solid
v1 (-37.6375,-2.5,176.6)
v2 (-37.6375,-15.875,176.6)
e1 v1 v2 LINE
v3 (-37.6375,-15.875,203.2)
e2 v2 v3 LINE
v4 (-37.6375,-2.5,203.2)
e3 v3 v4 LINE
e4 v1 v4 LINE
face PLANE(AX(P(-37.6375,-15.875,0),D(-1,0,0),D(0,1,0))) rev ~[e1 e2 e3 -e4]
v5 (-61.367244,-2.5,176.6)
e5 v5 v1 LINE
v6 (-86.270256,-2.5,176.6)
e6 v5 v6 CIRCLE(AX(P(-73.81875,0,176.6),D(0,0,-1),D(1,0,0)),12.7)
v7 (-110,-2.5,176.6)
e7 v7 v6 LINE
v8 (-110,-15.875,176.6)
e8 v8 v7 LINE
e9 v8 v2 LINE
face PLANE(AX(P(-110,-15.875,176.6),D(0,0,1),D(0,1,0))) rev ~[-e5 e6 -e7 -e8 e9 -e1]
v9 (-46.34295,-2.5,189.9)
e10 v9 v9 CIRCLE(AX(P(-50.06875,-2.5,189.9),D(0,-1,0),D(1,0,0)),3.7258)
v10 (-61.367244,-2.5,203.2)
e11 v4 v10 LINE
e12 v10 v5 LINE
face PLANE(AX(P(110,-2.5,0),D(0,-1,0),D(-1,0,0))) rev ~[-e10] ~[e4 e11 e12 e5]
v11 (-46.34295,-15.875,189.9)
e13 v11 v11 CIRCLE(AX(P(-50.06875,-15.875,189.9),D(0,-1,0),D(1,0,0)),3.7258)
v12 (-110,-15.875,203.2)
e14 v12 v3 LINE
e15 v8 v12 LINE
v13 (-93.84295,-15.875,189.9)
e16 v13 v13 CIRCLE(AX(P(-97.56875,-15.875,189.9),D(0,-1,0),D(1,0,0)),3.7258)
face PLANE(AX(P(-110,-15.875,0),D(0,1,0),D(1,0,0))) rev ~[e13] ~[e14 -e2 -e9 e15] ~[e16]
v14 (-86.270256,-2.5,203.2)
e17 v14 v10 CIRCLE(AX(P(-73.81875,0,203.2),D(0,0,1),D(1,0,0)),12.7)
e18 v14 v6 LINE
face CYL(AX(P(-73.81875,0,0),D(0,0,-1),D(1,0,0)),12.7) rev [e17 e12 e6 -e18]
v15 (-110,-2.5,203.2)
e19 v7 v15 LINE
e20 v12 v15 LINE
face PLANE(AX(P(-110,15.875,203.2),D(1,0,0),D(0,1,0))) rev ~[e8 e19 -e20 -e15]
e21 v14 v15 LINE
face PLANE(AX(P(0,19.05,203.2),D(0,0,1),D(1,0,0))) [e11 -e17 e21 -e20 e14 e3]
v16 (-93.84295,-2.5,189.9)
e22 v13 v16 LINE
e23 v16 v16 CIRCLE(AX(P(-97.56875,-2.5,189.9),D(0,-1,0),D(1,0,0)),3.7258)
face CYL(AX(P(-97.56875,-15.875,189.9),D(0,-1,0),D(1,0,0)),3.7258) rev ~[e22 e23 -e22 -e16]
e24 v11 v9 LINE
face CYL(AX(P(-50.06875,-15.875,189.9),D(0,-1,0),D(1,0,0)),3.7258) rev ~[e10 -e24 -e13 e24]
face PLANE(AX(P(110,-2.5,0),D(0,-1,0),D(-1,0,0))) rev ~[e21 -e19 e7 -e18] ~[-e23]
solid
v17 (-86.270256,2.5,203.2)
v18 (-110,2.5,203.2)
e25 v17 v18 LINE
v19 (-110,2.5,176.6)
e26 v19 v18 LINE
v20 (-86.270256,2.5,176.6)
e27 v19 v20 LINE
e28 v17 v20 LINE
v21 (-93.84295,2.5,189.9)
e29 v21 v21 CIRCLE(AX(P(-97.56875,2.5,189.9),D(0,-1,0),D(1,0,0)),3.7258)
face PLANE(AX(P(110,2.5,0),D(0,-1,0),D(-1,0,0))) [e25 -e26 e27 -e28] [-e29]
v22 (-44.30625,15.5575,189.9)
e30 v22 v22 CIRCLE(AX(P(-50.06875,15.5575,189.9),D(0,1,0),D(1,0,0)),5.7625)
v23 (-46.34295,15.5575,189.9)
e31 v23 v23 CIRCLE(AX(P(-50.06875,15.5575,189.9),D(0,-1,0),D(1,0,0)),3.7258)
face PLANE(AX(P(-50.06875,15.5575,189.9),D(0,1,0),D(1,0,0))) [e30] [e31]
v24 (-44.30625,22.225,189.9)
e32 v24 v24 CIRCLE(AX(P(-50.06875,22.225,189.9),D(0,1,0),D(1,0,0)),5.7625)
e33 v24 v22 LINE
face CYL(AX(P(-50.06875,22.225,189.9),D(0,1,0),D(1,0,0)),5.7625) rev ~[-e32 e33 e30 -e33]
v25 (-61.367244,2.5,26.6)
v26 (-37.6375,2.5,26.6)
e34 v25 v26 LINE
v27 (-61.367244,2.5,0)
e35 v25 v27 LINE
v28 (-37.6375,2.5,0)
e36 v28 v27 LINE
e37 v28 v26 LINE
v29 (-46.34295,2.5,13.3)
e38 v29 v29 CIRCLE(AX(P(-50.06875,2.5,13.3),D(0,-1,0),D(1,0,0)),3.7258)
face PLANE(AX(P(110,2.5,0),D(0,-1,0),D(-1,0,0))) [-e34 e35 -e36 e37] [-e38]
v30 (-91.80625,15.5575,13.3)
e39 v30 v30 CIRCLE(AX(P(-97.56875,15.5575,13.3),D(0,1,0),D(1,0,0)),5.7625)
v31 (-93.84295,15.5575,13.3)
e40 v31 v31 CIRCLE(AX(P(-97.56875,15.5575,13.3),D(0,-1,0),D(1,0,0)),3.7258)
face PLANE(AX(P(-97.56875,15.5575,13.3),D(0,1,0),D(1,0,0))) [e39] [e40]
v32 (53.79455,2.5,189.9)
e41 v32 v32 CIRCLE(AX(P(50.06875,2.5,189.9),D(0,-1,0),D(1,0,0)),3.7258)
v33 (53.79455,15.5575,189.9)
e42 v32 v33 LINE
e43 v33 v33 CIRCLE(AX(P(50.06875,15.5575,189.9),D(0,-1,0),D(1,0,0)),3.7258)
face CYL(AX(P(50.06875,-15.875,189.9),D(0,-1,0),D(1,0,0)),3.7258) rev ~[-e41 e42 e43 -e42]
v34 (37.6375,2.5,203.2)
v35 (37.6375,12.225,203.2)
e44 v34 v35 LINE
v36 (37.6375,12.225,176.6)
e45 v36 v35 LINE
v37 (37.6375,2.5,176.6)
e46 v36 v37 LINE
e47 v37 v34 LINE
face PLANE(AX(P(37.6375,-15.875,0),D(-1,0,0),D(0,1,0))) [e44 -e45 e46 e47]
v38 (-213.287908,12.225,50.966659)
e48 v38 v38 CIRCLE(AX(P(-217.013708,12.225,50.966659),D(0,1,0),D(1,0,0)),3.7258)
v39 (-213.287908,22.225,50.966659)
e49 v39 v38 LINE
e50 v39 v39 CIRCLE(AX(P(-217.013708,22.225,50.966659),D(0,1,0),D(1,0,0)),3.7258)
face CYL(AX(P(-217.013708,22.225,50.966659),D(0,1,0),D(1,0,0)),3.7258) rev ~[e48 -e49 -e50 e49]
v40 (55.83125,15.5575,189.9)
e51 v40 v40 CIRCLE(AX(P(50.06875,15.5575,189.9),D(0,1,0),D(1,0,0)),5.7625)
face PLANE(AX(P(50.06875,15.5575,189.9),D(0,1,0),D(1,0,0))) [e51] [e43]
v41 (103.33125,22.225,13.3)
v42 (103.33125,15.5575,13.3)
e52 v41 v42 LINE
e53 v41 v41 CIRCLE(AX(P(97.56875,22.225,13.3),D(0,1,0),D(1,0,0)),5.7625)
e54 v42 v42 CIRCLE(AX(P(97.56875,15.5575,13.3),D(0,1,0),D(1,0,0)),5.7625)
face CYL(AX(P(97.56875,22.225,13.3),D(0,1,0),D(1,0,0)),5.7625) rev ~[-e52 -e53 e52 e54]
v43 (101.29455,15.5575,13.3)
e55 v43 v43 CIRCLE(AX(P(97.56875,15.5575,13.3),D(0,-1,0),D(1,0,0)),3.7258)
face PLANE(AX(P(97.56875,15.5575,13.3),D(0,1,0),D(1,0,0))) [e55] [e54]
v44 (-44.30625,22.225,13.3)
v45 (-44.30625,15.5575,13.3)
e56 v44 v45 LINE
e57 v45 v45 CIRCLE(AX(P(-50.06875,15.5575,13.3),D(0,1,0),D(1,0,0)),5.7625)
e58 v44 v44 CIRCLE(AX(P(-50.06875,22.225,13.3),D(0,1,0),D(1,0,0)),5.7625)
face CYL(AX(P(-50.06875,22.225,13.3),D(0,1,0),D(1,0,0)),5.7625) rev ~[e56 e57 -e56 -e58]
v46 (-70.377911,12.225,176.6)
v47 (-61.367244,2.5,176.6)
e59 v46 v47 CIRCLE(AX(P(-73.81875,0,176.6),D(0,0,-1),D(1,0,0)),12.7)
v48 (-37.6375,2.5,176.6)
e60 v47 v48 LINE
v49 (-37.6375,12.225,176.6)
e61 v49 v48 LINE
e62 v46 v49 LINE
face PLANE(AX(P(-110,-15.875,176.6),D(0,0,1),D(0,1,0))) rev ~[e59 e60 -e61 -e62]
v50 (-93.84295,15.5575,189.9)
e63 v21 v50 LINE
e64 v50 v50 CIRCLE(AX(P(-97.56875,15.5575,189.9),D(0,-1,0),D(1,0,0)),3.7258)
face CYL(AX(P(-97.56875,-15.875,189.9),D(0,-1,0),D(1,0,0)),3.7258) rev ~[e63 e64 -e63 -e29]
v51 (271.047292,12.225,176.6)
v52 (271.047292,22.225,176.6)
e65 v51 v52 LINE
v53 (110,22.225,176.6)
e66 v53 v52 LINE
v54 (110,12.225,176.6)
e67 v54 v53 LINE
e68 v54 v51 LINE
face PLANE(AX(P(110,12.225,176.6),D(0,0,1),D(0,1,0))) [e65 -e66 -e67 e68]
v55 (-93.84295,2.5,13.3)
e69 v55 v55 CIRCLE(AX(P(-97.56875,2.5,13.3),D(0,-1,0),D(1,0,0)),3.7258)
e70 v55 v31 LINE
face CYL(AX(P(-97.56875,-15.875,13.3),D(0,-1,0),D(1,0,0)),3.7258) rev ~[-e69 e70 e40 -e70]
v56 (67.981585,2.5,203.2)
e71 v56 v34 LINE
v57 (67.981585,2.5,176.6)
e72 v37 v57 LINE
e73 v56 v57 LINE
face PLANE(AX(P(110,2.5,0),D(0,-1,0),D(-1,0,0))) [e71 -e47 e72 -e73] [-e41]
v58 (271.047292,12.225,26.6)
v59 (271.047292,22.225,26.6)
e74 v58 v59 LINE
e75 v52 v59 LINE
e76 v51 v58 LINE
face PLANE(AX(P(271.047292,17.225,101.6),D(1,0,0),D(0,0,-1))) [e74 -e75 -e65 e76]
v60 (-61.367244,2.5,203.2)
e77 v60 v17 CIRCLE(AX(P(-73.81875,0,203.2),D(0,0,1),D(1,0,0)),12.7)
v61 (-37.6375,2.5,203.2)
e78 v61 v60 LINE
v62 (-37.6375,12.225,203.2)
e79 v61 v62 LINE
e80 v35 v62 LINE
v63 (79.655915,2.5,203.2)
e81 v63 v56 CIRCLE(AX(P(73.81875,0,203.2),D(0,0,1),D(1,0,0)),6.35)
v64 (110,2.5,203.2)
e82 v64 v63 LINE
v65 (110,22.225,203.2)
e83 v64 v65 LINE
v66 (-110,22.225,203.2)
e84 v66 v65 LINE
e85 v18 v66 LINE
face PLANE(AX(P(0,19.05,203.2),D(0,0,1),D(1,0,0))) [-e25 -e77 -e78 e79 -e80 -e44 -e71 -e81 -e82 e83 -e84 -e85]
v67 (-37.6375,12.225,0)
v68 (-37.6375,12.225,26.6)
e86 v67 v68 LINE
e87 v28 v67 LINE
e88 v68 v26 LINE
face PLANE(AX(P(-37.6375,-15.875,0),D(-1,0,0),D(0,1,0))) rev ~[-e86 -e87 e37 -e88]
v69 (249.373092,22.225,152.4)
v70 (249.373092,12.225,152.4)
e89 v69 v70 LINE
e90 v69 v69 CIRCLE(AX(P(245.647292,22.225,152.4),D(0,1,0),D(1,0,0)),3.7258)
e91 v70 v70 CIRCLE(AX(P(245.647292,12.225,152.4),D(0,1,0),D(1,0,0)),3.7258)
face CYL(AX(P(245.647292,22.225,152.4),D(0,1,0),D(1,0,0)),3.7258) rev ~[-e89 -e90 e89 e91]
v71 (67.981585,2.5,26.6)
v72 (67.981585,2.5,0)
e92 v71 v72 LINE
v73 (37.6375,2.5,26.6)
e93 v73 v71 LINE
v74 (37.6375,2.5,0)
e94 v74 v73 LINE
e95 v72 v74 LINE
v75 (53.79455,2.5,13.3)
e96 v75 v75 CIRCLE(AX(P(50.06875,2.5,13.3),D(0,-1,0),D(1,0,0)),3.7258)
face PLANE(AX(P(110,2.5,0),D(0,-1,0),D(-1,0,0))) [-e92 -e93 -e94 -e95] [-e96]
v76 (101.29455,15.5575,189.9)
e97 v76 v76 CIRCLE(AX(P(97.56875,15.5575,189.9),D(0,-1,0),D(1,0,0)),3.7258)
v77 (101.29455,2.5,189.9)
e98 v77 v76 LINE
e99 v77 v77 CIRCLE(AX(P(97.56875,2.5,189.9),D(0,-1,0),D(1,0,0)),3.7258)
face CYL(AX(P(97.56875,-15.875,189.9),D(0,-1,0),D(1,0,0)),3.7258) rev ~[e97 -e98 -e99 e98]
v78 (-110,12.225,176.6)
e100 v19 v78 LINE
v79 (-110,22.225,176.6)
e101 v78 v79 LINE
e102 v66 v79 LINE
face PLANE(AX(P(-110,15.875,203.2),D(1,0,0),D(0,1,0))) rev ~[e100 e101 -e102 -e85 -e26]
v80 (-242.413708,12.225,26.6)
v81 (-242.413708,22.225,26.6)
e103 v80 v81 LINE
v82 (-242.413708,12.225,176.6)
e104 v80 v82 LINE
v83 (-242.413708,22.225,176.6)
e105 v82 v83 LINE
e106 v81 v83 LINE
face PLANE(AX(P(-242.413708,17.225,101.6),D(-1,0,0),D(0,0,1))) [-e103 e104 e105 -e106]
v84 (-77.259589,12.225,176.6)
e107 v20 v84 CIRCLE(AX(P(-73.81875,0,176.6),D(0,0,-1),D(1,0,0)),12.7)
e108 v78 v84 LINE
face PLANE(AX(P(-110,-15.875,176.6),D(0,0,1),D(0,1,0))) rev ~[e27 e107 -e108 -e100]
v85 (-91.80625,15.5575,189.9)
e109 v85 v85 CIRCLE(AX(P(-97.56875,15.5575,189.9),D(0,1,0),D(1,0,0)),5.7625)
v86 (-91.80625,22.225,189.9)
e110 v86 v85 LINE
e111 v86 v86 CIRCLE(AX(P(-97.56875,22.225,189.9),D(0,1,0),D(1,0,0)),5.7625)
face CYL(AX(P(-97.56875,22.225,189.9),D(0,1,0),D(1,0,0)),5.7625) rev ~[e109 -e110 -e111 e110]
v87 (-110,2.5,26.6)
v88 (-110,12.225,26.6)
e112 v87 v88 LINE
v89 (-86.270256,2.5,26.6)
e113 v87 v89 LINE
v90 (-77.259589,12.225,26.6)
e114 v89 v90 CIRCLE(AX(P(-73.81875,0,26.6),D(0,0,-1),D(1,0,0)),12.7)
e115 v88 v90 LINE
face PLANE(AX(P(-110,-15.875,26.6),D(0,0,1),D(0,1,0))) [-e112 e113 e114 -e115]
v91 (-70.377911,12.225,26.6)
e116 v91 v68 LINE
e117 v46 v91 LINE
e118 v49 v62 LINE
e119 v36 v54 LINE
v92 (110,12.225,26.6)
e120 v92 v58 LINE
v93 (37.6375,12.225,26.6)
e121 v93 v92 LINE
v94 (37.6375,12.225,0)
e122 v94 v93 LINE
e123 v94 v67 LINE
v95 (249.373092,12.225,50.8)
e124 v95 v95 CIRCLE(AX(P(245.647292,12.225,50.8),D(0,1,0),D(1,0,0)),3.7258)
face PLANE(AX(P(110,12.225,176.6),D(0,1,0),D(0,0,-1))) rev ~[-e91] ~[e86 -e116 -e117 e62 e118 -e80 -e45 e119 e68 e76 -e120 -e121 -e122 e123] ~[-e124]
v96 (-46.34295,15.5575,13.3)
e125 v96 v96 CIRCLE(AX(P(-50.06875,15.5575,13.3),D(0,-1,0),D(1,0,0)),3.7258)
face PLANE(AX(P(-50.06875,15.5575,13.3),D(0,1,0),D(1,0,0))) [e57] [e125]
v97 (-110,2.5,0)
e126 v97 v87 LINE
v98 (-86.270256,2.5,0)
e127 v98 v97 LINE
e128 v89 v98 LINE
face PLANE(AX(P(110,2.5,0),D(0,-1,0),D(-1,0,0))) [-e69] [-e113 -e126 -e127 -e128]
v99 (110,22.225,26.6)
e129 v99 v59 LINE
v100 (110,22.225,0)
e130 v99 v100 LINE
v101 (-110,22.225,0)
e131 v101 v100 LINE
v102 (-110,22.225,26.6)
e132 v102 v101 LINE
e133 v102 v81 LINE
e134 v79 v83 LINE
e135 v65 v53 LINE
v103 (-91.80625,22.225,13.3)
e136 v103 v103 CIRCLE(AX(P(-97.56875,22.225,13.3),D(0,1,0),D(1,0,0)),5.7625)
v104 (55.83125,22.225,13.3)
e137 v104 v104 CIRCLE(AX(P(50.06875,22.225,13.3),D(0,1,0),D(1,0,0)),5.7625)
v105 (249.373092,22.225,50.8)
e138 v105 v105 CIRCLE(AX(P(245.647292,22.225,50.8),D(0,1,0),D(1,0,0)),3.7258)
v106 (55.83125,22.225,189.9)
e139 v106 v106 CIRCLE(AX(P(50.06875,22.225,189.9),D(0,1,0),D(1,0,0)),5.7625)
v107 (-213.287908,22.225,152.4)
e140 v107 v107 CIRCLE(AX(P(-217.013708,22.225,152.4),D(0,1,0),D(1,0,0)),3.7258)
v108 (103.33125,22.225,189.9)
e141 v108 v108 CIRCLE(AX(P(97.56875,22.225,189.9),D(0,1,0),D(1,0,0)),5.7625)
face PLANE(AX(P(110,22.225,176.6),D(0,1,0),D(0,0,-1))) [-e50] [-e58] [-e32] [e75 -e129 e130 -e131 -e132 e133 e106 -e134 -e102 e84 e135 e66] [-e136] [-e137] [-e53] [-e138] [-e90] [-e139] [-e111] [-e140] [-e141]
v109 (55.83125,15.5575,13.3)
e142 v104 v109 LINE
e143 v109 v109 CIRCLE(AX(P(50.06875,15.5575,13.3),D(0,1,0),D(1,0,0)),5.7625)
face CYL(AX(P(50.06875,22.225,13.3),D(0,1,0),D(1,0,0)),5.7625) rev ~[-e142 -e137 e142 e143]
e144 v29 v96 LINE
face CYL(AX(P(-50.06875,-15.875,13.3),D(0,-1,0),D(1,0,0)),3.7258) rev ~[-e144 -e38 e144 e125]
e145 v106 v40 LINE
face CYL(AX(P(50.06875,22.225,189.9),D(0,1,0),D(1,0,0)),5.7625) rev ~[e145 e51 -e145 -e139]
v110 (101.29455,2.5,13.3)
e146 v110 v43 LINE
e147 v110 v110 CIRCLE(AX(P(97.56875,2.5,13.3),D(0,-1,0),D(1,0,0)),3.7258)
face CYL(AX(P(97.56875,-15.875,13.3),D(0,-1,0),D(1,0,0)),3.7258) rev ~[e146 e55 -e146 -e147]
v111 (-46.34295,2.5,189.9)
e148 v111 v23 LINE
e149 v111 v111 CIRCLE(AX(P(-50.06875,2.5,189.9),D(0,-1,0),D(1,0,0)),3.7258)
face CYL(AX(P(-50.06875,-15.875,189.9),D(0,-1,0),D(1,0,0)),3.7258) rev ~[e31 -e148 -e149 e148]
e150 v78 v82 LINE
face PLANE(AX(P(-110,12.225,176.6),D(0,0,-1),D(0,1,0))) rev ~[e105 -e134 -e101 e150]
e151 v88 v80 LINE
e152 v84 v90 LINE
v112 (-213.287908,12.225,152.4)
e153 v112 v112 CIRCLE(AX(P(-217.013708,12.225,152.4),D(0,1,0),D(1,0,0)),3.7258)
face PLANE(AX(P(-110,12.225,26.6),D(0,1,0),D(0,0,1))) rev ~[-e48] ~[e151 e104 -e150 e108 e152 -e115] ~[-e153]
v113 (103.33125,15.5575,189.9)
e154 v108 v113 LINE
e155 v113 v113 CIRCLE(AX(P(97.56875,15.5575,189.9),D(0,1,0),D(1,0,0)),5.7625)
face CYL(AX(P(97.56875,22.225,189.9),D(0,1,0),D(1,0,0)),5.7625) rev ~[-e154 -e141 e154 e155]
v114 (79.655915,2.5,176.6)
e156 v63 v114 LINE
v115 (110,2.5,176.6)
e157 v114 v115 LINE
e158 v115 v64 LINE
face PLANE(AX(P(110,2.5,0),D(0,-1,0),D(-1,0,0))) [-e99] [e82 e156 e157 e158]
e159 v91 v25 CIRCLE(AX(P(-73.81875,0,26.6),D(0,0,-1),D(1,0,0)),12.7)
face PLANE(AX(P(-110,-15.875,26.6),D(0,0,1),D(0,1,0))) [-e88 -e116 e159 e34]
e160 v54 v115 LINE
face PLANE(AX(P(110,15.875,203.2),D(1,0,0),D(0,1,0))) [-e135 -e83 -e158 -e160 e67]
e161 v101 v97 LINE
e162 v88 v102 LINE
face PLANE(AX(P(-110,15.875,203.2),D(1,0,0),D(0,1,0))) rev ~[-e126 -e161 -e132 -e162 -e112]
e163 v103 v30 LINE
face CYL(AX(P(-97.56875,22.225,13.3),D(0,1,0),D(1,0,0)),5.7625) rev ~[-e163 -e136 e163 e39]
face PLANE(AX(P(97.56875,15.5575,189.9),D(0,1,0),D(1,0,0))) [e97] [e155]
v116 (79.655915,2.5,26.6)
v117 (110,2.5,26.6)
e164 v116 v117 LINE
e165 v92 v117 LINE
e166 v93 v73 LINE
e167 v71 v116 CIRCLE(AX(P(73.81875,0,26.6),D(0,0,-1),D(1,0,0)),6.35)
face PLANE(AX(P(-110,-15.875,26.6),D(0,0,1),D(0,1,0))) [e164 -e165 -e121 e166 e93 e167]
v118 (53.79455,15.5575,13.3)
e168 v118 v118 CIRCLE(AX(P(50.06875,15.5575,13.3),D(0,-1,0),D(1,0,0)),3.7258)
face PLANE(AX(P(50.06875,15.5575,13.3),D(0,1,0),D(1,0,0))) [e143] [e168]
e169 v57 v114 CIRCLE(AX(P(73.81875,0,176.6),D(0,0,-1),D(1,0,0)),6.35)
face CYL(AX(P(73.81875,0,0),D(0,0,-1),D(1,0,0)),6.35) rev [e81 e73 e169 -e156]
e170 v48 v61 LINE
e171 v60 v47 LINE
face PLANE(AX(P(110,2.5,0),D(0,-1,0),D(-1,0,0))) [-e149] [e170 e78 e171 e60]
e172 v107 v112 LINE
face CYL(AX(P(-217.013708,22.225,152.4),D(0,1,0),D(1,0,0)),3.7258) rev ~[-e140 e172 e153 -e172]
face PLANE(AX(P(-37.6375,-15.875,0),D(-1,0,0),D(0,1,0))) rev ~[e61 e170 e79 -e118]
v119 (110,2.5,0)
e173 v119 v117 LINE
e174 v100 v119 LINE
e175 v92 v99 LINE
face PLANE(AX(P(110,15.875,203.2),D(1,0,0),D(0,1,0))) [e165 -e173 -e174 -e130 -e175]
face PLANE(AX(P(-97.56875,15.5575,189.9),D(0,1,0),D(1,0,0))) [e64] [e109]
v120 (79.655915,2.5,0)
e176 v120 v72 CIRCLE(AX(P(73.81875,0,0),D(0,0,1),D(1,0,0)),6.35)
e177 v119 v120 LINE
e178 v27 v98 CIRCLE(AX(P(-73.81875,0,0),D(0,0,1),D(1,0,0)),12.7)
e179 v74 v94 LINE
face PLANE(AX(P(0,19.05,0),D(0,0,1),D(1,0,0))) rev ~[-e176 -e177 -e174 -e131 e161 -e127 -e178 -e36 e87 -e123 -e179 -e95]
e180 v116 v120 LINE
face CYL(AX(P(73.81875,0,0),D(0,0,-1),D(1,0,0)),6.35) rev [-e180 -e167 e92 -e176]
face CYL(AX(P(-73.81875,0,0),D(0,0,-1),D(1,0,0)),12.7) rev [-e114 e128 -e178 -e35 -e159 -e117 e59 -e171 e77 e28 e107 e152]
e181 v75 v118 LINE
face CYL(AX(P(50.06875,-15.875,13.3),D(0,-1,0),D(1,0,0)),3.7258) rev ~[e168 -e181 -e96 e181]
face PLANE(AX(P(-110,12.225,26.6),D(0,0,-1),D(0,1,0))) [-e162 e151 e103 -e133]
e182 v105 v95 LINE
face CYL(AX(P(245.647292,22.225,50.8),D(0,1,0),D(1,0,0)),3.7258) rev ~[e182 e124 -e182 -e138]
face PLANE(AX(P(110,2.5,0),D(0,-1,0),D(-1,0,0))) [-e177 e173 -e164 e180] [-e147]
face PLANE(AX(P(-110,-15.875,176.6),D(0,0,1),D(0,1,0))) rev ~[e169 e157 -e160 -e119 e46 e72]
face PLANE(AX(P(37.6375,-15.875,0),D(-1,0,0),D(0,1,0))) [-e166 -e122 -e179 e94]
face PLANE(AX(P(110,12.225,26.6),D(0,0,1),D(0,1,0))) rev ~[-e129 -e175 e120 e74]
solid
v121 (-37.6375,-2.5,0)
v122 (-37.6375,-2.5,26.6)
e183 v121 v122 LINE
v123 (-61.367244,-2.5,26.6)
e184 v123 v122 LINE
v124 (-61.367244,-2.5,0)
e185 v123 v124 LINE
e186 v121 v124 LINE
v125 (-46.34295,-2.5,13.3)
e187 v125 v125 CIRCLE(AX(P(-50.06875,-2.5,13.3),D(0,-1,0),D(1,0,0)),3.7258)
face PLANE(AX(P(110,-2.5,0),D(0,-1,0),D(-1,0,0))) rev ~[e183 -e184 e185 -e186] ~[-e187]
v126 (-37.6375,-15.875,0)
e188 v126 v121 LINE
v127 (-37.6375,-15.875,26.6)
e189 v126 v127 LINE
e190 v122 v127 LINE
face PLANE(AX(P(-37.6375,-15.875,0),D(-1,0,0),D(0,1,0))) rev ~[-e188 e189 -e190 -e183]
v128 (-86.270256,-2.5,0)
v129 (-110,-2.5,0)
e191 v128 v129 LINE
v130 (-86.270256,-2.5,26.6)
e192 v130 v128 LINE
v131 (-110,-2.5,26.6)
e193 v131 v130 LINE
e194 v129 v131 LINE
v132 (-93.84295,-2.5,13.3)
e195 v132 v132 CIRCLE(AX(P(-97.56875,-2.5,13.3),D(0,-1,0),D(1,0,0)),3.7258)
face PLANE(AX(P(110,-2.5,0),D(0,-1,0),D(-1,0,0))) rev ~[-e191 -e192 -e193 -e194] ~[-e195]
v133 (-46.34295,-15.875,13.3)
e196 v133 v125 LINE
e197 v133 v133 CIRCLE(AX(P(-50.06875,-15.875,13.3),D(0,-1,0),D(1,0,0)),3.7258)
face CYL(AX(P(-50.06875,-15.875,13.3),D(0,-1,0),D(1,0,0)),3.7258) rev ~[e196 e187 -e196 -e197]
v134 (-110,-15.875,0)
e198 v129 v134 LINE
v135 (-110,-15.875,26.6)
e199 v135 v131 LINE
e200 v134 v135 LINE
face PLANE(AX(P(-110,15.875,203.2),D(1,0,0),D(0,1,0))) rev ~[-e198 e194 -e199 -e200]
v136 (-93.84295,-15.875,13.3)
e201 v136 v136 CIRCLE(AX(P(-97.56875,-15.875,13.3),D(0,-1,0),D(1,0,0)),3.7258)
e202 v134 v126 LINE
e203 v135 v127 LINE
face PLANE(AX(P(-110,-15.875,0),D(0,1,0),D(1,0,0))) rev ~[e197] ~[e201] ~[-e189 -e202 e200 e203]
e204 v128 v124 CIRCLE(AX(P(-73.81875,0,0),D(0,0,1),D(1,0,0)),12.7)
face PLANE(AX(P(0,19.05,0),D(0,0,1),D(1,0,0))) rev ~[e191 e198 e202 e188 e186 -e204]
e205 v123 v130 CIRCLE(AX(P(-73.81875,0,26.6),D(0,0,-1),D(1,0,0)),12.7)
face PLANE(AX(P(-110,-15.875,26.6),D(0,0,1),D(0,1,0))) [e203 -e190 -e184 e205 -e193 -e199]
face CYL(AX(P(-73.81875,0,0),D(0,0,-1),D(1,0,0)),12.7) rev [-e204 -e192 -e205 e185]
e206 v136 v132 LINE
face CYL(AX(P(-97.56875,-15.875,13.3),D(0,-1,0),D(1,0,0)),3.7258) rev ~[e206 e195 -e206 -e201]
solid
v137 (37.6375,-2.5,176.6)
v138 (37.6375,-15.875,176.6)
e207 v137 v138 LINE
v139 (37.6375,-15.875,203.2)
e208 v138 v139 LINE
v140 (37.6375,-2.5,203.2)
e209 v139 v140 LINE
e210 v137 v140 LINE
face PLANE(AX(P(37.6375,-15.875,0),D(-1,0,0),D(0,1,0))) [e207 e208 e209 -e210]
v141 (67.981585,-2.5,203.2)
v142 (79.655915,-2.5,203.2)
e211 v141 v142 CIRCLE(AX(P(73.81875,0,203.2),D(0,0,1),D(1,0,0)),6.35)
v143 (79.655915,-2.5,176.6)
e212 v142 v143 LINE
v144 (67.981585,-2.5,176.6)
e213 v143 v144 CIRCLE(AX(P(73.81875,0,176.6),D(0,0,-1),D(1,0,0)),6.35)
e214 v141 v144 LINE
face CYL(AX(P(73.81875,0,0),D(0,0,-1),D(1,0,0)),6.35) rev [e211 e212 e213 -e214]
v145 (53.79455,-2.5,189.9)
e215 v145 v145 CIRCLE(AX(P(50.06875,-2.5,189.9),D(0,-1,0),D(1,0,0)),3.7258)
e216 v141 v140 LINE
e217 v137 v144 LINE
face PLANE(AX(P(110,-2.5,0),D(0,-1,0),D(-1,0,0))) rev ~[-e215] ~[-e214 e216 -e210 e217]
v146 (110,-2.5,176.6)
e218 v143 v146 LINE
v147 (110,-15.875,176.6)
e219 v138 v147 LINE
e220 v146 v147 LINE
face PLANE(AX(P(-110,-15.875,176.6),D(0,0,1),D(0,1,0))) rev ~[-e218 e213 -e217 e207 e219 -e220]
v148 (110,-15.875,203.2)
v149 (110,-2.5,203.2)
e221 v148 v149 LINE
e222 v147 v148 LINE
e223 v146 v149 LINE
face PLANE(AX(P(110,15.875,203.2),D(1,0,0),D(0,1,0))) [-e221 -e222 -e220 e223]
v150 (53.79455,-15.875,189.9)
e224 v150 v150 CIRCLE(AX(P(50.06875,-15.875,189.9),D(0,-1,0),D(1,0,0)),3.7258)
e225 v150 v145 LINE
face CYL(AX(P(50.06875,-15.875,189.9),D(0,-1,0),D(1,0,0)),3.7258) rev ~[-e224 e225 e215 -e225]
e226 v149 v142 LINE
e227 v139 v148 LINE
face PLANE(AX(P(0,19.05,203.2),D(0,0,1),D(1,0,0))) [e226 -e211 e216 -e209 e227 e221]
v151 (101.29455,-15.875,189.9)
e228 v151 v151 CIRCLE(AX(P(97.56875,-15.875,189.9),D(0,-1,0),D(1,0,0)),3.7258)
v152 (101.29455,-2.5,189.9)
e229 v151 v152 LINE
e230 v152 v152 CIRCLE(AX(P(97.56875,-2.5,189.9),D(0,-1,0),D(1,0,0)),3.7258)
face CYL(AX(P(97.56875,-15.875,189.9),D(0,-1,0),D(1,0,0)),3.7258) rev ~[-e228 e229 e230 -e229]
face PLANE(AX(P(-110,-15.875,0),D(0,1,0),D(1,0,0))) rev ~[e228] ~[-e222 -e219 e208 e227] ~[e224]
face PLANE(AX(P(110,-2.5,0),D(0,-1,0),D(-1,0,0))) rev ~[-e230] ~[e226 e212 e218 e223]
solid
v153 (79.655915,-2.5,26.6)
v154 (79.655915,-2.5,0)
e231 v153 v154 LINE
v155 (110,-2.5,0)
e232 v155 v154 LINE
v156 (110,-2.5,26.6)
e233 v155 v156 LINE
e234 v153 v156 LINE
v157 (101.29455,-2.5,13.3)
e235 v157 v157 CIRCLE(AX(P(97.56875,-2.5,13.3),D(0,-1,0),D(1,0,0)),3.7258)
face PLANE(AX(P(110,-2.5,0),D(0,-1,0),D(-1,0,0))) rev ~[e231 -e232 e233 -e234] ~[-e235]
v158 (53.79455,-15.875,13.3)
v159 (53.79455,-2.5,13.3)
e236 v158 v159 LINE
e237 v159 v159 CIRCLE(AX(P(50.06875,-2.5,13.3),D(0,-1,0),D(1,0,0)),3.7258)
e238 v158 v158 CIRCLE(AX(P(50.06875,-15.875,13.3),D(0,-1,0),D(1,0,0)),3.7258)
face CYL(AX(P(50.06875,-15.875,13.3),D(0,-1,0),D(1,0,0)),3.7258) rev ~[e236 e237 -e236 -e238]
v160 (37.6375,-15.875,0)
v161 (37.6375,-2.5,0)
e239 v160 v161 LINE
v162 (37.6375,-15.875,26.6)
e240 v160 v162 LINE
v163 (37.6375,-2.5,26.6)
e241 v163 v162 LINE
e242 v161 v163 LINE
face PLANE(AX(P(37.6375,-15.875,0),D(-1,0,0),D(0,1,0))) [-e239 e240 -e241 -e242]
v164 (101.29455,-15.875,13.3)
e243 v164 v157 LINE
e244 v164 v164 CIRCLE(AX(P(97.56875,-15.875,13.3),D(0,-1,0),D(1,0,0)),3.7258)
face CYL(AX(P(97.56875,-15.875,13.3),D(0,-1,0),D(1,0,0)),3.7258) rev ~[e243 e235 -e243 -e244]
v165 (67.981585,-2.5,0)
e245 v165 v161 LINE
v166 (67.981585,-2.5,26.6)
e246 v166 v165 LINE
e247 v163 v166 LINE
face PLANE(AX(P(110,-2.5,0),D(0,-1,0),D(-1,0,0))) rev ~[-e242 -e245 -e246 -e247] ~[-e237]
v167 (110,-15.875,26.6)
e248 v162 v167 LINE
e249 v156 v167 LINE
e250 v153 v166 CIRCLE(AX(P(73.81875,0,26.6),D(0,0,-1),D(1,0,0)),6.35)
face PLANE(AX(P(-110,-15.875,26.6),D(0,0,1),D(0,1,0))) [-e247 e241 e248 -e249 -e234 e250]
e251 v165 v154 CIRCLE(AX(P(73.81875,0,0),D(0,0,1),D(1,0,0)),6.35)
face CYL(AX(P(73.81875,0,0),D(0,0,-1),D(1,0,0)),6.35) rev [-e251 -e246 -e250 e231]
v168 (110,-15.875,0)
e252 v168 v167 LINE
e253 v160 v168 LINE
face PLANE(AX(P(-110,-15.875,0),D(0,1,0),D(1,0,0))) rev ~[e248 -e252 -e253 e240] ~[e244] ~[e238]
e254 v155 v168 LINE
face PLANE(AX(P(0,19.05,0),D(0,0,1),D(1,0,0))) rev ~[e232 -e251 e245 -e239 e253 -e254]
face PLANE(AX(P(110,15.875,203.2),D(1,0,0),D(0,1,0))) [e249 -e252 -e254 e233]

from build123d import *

# Parameters (mm, degrees)
SKETCH1_W           = 220
SKETCH1_H           = 31.75
SKETCH1_R           = 12.7
SKETCH1_R_2         = 6.35
BOSS_EXTRUDE1_DEPTH = 203.2
SKETCH3_W           = 220
SKETCH3_H           = 6.35
BOSS_EXTRUDE2_DEPTH = 203.2
SKETCH4_W           = 150
SKETCH4_H           = 28.1
CUT_EXTRUDE1_DEPTH  = 253.2
SKETCH5_W           = 75.275
SKETCH5_H           = 28.1
CUT_EXTRUDE2_DEPTH  = 203.2
SKETCH6_R           = 3.7258
CUT_EXTRUDE3_DEPTH  = 203.2
SKETCH7_W           = 220
SKETCH7_H           = 5
CUT_EXTRUDE4_DEPTH  = 203.2
SKETCH8_W           = 150
SKETCH8_H           = 10
BOSS_EXTRUDE3_DEPTH = 132.41370821
SKETCH9_W           = 150
SKETCH9_H           = 10
BOSS_EXTRUDE4_DEPTH = 161.04729179
SKETCH10_R          = 3.7258
CUT_EXTRUDE5_DEPTH  = 10
SKETCH11_R          = 5.7625
CUT_EXTRUDE6_DEPTH  = 6.6675


with BuildPart() as part:
    # Sketch1 → Boss-Extrude1 (new body)
    with BuildSketch(Plane.XY):
        Rectangle(SKETCH1_W, SKETCH1_H)
        with Locations((-73.81875, 0)):
            Circle(SKETCH1_R, mode=Mode.SUBTRACT)
        with Locations((73.81875, 0)):
            Circle(SKETCH1_R_2, mode=Mode.SUBTRACT)
    extrude(amount=BOSS_EXTRUDE1_DEPTH)

    # Sketch3 → Boss-Extrude2 (add)
    with BuildSketch(Plane.XY.offset(203.2)):
        with Locations((0, 19.05)):
            Rectangle(SKETCH3_W, SKETCH3_H)
    extrude(amount=-BOSS_EXTRUDE2_DEPTH)

    # Sketch4 → Cut-Extrude1 (cut)
    with BuildSketch(Plane.ZY.offset(110)):
        with Locations((101.6, -1.825)):
            Rectangle(SKETCH4_W, SKETCH4_H)
    extrude(amount=-CUT_EXTRUDE1_DEPTH, mode=Mode.SUBTRACT)

    # Sketch5 → Cut-Extrude2 (cut)
    with BuildSketch(Plane(origin=(0, 0, 0), x_dir=(-1, 0, 0), z_dir=(0, 0, -1))):
        with Locations((0, -1.825)):
            Rectangle(SKETCH5_W, SKETCH5_H)
    extrude(amount=-CUT_EXTRUDE2_DEPTH, mode=Mode.SUBTRACT)

    # Sketch6 → Cut-Extrude3 (cut)
    with BuildSketch(Plane.XZ.offset(15.875)):
        with Locations((-50.06875, 189.9)):
            Circle(SKETCH6_R)
        with Locations((-97.56875, 189.9)):
            Circle(SKETCH6_R)
        with Locations((-97.56875, 13.3)):
            Circle(SKETCH6_R)
        with Locations((-50.06875, 13.3)):
            Circle(SKETCH6_R)
        with Locations((50.06875, 13.3)):
            Circle(SKETCH6_R)
        with Locations((97.56875, 13.3)):
            Circle(SKETCH6_R)
        with Locations((97.56875, 189.9)):
            Circle(SKETCH6_R)
        with Locations((50.06875, 189.9)):
            Circle(SKETCH6_R)
    extrude(amount=-CUT_EXTRUDE3_DEPTH, mode=Mode.SUBTRACT)

    # Sketch7 → Cut-Extrude4 (cut)
    with BuildSketch(Plane(origin=(0, 0, 0), x_dir=(-1, 0, 0), z_dir=(0, 0, -1))):
        Rectangle(SKETCH7_W, SKETCH7_H)
    extrude(amount=-CUT_EXTRUDE4_DEPTH, mode=Mode.SUBTRACT)

    # Sketch8 → Boss-Extrude3 (add)
    with BuildSketch(Plane.ZY.offset(110)):
        with Locations((101.6, 17.225)):
            Rectangle(SKETCH8_W, SKETCH8_H)
    extrude(amount=BOSS_EXTRUDE3_DEPTH)

    # Sketch9 → Boss-Extrude4 (add)
    with BuildSketch(Plane(origin=(110, 0, 0), x_dir=(0, 0, -1), z_dir=(1, 0, 0))):
        with Locations((-101.6, 17.225)):
            Rectangle(SKETCH9_W, SKETCH9_H)
    extrude(amount=BOSS_EXTRUDE4_DEPTH)

    # Sketch10 → Cut-Extrude5 (cut)
    with BuildSketch(Plane(origin=(0, 22.225, 0), x_dir=(1, 0, 0), z_dir=(0, 1, 0))):
        with Locations((-217.013708212, -152.4)):
            Circle(SKETCH10_R)
        with Locations((-217.013708212, -50.966658535)):
            Circle(SKETCH10_R)
        with Locations((245.647291788, -50.8)):
            Circle(SKETCH10_R)
        with Locations((245.647291788, -152.4)):
            Circle(SKETCH10_R)
    extrude(amount=-CUT_EXTRUDE5_DEPTH, mode=Mode.SUBTRACT)

    # Sketch11 → Cut-Extrude6 (cut)
    with BuildSketch(Plane(origin=(0, 22.225, 0), x_dir=(1, 0, 0), z_dir=(0, 1, 0))):
        with Locations((97.56875, -13.3)):
            Circle(SKETCH11_R)
        with Locations((50.06875, -13.3)):
            Circle(SKETCH11_R)
        with Locations((97.56875, -189.9)):
            Circle(SKETCH11_R)
        with Locations((50.06875, -189.9)):
            Circle(SKETCH11_R)
        with Locations((-50.06875, -189.9)):
            Circle(SKETCH11_R)
        with Locations((-97.56875, -189.9)):
            Circle(SKETCH11_R)
        with Locations((-97.56875, -13.3)):
            Circle(SKETCH11_R)
        with Locations((-50.06875, -13.3)):
            Circle(SKETCH11_R)
    extrude(amount=-CUT_EXTRUDE6_DEPTH, mode=Mode.SUBTRACT)


solid = part.part
